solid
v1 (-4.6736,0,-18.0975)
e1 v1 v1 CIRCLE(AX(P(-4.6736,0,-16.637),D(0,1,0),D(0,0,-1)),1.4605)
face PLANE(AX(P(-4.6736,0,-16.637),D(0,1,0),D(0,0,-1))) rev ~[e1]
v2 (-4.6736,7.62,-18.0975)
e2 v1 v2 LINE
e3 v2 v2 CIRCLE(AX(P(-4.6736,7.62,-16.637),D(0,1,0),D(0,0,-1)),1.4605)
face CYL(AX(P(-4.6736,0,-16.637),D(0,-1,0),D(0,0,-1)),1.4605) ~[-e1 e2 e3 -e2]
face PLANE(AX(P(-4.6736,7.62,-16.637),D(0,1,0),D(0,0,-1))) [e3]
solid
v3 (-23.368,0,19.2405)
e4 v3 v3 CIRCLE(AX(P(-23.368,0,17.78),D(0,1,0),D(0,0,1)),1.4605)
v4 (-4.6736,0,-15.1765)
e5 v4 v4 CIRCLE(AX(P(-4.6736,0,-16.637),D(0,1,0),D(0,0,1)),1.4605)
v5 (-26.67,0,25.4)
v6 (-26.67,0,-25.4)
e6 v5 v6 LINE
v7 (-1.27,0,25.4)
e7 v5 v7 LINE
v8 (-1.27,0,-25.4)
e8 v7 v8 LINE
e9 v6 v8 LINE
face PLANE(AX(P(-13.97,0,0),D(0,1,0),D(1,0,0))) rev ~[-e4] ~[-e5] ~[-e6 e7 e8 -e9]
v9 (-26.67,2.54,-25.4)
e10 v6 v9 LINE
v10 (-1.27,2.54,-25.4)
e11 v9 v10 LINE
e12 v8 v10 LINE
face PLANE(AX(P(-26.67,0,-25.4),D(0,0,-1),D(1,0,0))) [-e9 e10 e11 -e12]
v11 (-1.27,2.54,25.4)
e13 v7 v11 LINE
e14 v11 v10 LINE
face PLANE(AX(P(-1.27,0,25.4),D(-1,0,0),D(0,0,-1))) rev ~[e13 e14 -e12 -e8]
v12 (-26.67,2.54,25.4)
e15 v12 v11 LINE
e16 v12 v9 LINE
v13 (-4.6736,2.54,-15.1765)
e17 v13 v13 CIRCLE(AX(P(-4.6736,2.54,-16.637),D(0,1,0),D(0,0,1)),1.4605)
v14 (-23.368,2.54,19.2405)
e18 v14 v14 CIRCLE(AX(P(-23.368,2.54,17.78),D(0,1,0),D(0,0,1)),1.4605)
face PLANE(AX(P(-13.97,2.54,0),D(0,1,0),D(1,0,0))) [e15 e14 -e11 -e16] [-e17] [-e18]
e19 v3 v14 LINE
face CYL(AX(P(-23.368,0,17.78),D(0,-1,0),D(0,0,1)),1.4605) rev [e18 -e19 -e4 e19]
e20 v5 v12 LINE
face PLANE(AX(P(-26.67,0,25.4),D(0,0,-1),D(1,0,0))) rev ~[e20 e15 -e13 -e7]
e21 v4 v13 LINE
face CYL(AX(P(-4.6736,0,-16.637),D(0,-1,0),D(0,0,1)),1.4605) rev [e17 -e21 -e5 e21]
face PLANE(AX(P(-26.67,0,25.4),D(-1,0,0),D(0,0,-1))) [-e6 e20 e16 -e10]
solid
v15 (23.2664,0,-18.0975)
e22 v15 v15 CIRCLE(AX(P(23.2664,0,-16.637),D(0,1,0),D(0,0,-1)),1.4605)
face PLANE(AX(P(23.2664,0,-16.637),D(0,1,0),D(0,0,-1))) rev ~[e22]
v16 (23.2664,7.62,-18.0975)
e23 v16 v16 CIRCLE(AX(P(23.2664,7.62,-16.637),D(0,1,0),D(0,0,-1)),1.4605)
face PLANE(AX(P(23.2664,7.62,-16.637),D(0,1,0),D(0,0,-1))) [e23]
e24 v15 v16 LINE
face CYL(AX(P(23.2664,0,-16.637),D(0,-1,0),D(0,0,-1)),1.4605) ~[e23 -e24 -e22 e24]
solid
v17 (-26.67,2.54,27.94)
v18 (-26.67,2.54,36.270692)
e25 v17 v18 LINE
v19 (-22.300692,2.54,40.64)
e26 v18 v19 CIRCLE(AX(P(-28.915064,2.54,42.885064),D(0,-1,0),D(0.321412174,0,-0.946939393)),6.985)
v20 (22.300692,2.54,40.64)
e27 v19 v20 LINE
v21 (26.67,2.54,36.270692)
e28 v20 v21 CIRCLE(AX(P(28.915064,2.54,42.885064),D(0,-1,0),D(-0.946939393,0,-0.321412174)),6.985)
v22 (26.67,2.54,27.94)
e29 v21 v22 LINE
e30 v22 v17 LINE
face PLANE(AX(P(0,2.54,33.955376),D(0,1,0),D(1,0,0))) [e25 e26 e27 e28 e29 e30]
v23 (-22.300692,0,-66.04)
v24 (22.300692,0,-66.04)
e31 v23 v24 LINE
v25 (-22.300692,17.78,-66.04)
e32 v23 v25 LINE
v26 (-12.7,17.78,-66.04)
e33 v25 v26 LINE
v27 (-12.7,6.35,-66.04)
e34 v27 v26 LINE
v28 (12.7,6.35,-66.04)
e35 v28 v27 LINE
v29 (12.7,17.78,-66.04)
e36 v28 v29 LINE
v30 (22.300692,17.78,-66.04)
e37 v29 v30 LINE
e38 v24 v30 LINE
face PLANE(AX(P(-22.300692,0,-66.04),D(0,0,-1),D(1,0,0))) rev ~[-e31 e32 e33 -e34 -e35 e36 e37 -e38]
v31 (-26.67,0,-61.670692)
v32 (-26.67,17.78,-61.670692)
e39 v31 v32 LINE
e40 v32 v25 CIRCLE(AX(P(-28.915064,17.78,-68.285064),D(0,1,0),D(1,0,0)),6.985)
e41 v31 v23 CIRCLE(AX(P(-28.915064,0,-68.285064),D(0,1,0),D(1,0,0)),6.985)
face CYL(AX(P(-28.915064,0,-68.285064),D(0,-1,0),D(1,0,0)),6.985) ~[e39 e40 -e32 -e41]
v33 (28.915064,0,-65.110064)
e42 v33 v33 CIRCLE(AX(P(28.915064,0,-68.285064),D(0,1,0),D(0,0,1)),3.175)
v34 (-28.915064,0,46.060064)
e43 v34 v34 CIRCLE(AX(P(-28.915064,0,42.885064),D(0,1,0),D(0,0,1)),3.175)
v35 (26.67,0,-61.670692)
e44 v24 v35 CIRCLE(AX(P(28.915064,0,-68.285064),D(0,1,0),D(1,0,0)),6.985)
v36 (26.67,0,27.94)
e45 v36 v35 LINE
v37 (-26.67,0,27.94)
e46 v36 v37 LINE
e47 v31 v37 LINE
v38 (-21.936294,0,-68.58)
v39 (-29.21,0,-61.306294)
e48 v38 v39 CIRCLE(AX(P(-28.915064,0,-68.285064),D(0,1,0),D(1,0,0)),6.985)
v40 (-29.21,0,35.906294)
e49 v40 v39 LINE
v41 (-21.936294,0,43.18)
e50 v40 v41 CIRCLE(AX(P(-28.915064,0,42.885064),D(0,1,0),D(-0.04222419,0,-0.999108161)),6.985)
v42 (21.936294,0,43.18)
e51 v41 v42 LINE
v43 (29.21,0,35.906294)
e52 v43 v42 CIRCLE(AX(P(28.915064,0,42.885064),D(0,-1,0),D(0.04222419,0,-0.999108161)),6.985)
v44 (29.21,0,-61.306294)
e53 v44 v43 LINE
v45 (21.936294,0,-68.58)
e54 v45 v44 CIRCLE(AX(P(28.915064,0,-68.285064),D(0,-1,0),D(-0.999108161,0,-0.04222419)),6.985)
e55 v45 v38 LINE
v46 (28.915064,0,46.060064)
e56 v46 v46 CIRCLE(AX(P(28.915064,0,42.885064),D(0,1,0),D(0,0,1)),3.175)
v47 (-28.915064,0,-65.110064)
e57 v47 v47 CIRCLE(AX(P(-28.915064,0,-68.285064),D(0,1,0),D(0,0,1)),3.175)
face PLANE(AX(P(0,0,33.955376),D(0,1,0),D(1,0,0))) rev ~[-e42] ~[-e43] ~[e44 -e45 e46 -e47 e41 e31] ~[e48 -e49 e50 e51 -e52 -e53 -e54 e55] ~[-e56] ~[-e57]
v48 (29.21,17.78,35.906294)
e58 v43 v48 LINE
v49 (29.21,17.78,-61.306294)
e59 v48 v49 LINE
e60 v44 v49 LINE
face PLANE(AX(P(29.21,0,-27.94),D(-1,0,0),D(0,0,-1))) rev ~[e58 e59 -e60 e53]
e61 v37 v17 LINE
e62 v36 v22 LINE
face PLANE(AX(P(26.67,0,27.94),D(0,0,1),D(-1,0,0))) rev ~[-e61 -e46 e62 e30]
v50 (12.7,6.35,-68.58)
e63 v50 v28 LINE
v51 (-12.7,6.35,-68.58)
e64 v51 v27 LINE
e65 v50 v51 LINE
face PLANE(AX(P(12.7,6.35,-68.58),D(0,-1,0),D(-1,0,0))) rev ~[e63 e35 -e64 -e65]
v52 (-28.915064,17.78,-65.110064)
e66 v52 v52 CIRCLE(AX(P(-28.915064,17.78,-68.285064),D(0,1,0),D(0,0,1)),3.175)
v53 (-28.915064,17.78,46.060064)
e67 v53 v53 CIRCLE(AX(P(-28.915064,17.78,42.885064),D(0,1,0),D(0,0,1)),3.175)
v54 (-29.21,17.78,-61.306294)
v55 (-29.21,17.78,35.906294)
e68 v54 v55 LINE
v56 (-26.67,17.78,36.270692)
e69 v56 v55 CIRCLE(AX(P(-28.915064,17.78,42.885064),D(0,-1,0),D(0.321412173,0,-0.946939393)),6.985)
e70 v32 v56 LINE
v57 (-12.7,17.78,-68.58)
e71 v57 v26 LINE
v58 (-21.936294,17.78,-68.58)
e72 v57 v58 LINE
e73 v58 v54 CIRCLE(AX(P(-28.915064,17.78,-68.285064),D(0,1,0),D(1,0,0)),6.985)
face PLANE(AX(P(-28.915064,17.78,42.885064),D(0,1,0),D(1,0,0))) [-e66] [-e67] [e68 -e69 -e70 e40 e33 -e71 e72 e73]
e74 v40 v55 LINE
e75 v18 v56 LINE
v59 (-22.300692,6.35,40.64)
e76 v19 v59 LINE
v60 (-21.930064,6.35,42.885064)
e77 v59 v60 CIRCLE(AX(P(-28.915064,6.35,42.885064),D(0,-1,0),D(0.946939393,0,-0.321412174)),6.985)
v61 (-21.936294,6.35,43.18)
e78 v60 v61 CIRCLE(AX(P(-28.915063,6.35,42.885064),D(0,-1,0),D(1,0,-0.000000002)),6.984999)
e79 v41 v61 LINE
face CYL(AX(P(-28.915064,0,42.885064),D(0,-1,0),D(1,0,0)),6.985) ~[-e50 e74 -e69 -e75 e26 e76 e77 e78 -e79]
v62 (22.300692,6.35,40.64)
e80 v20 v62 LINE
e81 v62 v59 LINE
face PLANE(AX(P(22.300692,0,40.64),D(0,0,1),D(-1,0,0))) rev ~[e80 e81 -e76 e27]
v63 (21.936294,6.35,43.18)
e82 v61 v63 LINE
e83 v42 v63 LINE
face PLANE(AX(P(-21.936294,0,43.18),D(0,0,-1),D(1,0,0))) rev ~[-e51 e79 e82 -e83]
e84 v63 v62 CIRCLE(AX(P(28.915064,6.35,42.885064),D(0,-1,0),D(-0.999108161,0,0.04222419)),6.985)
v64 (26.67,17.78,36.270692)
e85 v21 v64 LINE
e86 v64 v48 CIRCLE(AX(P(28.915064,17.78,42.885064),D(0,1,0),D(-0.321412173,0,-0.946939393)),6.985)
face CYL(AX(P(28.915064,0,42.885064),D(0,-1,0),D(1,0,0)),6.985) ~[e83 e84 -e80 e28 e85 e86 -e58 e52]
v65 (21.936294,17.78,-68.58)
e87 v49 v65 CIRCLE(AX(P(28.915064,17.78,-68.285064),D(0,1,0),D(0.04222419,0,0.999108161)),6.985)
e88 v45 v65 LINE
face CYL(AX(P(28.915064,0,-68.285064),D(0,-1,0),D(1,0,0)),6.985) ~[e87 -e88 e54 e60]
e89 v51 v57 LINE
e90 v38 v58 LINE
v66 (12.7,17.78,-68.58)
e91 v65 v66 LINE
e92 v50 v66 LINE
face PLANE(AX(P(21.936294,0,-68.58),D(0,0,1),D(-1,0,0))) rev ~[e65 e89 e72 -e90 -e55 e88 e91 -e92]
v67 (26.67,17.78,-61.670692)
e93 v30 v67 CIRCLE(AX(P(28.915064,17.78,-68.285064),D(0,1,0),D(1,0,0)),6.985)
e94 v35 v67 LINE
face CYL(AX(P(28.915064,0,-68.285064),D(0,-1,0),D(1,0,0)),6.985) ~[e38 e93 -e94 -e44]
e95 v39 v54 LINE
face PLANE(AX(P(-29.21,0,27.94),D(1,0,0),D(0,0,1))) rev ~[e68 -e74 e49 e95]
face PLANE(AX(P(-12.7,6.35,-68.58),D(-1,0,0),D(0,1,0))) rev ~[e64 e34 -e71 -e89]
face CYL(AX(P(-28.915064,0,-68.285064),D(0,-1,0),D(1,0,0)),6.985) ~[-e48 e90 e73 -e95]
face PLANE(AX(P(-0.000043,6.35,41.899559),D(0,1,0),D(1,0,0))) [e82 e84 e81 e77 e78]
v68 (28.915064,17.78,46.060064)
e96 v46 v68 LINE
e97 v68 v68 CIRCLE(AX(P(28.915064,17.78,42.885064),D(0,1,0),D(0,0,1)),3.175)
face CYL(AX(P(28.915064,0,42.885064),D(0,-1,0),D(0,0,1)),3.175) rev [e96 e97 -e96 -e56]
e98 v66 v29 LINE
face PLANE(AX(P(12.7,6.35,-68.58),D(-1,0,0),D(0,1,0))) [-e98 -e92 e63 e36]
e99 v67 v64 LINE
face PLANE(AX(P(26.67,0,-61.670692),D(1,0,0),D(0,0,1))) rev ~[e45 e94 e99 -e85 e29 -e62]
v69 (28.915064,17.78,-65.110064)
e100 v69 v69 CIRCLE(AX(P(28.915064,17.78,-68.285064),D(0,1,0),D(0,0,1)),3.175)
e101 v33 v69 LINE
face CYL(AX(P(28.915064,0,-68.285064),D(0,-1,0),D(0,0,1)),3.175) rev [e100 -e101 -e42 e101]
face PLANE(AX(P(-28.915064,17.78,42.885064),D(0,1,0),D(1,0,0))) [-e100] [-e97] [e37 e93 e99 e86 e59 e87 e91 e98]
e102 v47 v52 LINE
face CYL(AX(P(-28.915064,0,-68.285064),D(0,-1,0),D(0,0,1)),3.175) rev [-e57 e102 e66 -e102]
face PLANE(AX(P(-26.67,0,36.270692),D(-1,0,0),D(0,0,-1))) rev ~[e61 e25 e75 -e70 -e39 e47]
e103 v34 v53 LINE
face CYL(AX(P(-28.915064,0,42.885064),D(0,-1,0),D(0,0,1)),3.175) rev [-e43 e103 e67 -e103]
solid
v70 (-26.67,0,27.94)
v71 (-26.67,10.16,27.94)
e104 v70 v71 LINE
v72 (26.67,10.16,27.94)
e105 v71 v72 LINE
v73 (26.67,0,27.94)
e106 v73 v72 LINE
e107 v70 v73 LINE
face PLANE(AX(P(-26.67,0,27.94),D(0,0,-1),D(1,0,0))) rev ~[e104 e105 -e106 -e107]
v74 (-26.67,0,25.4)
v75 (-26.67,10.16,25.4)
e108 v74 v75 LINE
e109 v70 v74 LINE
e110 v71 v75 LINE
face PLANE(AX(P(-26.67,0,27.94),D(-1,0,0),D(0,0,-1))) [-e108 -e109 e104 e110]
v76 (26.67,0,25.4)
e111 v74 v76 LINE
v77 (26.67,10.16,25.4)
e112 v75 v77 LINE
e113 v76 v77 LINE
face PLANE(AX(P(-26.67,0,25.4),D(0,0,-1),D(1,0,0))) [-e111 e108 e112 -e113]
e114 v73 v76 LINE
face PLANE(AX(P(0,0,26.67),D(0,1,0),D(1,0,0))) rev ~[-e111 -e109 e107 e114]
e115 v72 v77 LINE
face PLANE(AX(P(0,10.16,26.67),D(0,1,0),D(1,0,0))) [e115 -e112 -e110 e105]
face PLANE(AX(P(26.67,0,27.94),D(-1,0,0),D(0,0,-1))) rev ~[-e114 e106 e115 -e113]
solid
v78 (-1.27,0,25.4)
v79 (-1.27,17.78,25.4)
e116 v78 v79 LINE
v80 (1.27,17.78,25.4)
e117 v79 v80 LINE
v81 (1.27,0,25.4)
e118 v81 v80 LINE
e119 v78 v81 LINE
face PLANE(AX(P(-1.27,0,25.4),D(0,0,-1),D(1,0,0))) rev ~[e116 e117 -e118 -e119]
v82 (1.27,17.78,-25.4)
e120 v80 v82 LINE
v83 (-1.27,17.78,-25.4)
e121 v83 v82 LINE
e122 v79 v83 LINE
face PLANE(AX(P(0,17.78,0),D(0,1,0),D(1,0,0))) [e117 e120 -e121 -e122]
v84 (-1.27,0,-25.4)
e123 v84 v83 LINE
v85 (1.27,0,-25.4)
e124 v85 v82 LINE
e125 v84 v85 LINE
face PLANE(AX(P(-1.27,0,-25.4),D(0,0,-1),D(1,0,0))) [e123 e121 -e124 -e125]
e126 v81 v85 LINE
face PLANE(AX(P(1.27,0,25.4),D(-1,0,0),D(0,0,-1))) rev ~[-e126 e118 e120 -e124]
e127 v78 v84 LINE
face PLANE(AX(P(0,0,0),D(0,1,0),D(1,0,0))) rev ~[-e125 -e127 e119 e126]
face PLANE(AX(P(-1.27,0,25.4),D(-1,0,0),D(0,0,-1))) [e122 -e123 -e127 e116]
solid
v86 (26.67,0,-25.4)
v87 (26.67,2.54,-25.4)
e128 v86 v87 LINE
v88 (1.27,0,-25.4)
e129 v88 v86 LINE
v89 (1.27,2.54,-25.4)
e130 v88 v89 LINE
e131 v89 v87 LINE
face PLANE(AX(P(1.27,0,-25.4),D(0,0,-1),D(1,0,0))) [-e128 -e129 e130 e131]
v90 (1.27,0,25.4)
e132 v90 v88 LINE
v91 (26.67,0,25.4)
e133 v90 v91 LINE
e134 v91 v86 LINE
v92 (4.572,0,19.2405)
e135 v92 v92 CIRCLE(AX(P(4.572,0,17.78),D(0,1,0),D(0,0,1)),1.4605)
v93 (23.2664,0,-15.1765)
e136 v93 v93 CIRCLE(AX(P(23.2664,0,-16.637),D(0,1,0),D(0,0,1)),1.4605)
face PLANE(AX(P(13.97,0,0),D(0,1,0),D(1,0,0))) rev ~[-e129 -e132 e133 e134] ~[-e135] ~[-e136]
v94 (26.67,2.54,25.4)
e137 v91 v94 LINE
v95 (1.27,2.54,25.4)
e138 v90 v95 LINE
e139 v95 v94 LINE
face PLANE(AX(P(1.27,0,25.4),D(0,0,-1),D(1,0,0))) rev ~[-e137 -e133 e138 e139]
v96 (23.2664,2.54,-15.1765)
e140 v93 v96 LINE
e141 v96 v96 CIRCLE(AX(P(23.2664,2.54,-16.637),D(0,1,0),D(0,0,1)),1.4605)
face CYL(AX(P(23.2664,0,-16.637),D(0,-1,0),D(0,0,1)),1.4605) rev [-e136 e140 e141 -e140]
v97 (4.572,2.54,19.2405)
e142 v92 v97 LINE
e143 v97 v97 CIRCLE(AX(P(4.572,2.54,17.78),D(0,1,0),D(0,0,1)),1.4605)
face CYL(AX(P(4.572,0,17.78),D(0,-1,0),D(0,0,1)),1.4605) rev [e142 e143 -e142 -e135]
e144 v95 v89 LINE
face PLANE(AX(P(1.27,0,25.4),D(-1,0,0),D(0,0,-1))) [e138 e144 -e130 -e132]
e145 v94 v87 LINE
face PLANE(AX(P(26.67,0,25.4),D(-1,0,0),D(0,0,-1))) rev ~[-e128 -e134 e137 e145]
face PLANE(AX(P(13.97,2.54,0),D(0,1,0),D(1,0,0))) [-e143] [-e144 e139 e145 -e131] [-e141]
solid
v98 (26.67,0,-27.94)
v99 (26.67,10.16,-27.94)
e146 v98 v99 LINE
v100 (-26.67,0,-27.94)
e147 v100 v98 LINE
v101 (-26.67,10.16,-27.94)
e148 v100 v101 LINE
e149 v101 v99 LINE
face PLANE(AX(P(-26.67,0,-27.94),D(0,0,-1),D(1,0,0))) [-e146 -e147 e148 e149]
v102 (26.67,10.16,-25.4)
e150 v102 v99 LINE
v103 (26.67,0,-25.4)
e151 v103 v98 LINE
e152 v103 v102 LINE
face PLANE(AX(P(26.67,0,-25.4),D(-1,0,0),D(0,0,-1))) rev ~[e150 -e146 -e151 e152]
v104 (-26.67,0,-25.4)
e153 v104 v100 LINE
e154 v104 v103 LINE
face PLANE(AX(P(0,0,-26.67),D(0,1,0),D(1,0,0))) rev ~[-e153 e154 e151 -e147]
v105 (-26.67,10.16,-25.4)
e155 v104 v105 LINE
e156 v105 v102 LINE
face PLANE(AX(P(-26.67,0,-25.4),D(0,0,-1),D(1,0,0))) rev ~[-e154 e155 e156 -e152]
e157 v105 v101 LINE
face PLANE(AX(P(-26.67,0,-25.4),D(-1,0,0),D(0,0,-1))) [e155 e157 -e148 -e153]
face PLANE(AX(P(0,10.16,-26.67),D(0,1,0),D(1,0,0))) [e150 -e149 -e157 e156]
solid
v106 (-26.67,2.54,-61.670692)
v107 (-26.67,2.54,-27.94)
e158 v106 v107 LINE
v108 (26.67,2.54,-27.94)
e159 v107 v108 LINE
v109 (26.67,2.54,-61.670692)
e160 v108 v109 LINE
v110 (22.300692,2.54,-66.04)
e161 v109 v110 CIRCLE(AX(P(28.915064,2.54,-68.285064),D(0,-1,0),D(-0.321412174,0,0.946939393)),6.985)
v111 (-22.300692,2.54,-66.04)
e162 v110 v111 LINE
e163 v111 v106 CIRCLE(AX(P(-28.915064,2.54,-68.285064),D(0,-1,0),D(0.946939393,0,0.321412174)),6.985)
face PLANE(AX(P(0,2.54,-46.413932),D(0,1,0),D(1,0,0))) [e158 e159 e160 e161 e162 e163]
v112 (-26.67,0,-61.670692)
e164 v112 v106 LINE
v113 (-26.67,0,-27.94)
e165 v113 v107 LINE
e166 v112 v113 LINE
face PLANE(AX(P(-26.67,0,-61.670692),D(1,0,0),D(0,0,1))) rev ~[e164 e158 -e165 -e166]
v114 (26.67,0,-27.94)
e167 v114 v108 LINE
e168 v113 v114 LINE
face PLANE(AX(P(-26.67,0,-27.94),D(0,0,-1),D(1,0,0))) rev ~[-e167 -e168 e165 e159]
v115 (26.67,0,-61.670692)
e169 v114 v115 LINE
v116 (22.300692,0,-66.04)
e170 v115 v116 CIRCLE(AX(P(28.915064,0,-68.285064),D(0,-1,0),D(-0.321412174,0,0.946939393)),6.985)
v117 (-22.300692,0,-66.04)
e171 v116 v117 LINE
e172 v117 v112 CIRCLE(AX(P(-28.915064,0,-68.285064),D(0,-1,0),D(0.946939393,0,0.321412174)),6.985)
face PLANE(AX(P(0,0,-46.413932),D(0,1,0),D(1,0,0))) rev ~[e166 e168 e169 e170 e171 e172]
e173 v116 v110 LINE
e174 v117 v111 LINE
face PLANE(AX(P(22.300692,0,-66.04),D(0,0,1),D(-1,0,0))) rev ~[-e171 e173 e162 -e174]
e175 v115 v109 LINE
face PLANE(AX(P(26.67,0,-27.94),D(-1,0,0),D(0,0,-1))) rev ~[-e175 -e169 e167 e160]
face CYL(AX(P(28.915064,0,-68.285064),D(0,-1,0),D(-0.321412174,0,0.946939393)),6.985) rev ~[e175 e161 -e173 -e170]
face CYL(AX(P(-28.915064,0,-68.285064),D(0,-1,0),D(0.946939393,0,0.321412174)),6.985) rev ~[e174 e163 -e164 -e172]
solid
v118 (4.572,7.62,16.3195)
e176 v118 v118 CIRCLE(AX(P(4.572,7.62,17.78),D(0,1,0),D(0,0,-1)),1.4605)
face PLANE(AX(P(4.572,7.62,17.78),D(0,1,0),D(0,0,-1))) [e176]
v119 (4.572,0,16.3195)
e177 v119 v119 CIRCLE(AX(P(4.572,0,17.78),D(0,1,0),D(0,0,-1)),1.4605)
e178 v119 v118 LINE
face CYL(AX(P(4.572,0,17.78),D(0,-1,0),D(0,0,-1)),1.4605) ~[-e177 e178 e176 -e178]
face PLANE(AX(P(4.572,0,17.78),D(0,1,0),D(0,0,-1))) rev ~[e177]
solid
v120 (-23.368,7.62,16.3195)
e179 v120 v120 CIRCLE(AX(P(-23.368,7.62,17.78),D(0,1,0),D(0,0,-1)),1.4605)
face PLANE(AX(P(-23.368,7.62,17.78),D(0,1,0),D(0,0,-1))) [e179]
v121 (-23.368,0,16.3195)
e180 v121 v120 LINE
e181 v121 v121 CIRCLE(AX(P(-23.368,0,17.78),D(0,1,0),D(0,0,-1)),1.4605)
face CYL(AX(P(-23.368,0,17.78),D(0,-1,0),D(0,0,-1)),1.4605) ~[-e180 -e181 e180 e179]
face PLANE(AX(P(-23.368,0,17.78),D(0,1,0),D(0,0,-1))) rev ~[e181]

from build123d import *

# Parameters (mm, degrees)
SKETCH1_R              = 6.985
SKETCH1_R_2            = 3.175
SKETCH1_W              = 2.54
SKETCH1_H              = 50.8
BOSS_EXTRUDE1_DEPTH    = 17.78
SKETCH25_W             = 25.4
SKETCH25_H             = 50.8
SKETCH25_R             = 1.4605
BOSS_EXTRUDE10_DEPTH   = 2.54
BOSS_EXTRUDE10_2_DEPTH = 2.54
BOSS_EXTRUDE10_3_DEPTH = 2.54
BOSS_EXTRUDE10_4_DEPTH = 2.54
SKETCH16_R             = 1.4605
BOSS_EXTRUDE8_DEPTH    = 7.62
BOSS_EXTRUDE8_2_DEPTH  = 7.62
BOSS_EXTRUDE8_3_DEPTH  = 7.62
BOSS_EXTRUDE8_4_DEPTH  = 7.62
SKETCH17_W             = 53.34
SKETCH17_H             = 2.54
BOSS_EXTRUDE9_DEPTH    = 10.16
BOSS_EXTRUDE9_2_DEPTH  = 10.16
BOSS_EXTRUDE11_DEPTH   = 6.35
SKETCH20_W             = 25.4
SKETCH20_H             = 11.43
CUT_EXTRUDE7_DEPTH     = 2.54


with BuildPart() as part:
    # Sketch1 → Boss-Extrude1 (new body)
    # profile 1 of 12: a face of its own
    with BuildSketch(Plane(origin=(0, 0, 0), x_dir=(1, 0, 0), z_dir=(0, 1, 0))):
        with Locations((-28.91506403, -42.88506403)):
            Circle(SKETCH1_R)
        with Locations(Location((-28.91506403, -42.88506403, 0), (0, 0, 270))):
            Circle(SKETCH1_R_2, mode=Mode.SUBTRACT)
    # profile 2 of 12: a face of its own
    with BuildSketch(Plane(origin=(0, 0, 0), x_dir=(1, 0, 0), z_dir=(0, 1, 0))):
        with BuildLine():
            Line((-26.67, -36.270692367), (-26.67, -27.94))
            Line((-26.67, -27.94), (-29.21, -27.94))
            Line((-29.21, -27.94), (-29.21, -35.906293524))
            ThreePointArc((-29.21, -35.906293524), (-27.92312326, -35.970855579), (-26.67, -36.270692367))
        make_face()
    # profile 3 of 12: a face of its own
    with BuildSketch(Plane(origin=(0, 0, 0), x_dir=(1, 0, 0), z_dir=(0, 1, 0))):
        Polygon((-26.67, -27.94), (-26.67, -25.4), (-26.67, 25.4), (-26.67, 27.94), (-29.21, 27.94), (-29.21, -27.94), align=None)
    # profile 4 of 12: a face of its own
    with BuildSketch(Plane(origin=(0, 0, 0), x_dir=(1, 0, 0), z_dir=(0, 1, 0))):
        Polygon((26.67, -25.4), (26.67, -27.94), (29.21, -27.94), (29.21, 27.94), (26.67, 27.94), (26.67, 25.4), align=None)
    # profile 5 of 12: a face of its own
    with BuildSketch(Plane(origin=(0, 0, 0), x_dir=(1, 0, 0), z_dir=(0, 1, 0))):
        with BuildLine():
            Line((29.21, -27.94), (26.67, -27.94))
            Line((26.67, -27.94), (26.67, -36.270692367))
            ThreePointArc((26.67, -36.270692367), (27.92312326, -35.970855579), (29.21, -35.906293524))
            Line((29.21, -35.906293524), (29.21, -27.94))
        make_face()
    # profile 6 of 12: a face of its own
    with BuildSketch(Plane(origin=(0, 0, 0), x_dir=(1, 0, 0), z_dir=(0, 1, 0))):
        with Locations((28.91506403, -42.88506403)):
            Circle(SKETCH1_R)
        with Locations(Location((28.91506403, -42.88506403, 0), (0, 0, 270))):
            Circle(SKETCH1_R_2, mode=Mode.SUBTRACT)
    # profile 7 of 12: a face of its own
    with BuildSketch(Plane(origin=(0, 0, 0), x_dir=(1, 0, 0), z_dir=(0, 1, 0))):
        with BuildLine():
            Line((-29.21, 27.94), (-26.67, 27.94))
            Line((-26.67, 27.94), (-26.67, 61.670692367))
            ThreePointArc((-26.67, 61.670692367), (-27.92312326, 61.370855579), (-29.21, 61.306293524))
            Line((-29.21, 61.306293524), (-29.21, 27.94))
        make_face()
    # profile 8 of 12: a face of its own
    with BuildSketch(Plane(origin=(0, 0, 0), x_dir=(1, 0, 0), z_dir=(0, 1, 0))):
        with BuildLine():
            Line((26.67, 61.670692367), (26.67, 27.94))
            Line((26.67, 27.94), (29.21, 27.94))
            Line((29.21, 27.94), (29.21, 61.306293524))
            ThreePointArc((29.21, 61.306293524), (27.92312326, 61.370855579), (26.67, 61.670692367))
        make_face()
    # profile 9 of 12: a face of its own
    with BuildSketch(Plane(origin=(0, 0, 0), x_dir=(1, 0, 0), z_dir=(0, 1, 0))):
        with Locations((-28.91506403, 68.28506403)):
            Circle(SKETCH1_R)
        with Locations(Location((-28.91506403, 68.28506403, 0), (0, 0, 270))):
            Circle(SKETCH1_R_2, mode=Mode.SUBTRACT)
    # profile 10 of 12: a face of its own
    with BuildSketch(Plane(origin=(0, 0, 0), x_dir=(1, 0, 0), z_dir=(0, 1, 0))):
        with BuildLine():
            ThreePointArc((-21.93006403, 68.28506403), (-22.023343959, 67.147338463), (-22.300692367, 66.04))
            Line((-22.300692367, 66.04), (22.300692367, 66.04))
            ThreePointArc((22.300692367, 66.04), (22.000855579, 67.29312326), (21.936293524, 68.58))
            Line((21.936293524, 68.58), (-21.936293524, 68.58))
            ThreePointArc((-21.936293524, 68.58), (-21.931621577, 68.432564906), (-21.93006403, 68.28506403))
        make_face()
    # profile 11 of 12: a face of its own
    with BuildSketch(Plane(origin=(0, 0, 0), x_dir=(1, 0, 0), z_dir=(0, 1, 0))):
        with Locations((28.91506403, 68.28506403)):
            Circle(SKETCH1_R)
        with Locations(Location((28.91506403, 68.28506403, 0), (0, 0, 270))):
            Circle(SKETCH1_R_2, mode=Mode.SUBTRACT)
    # profile 12 of 12: a face of its own
    with BuildSketch(Plane(origin=(0, 0, 0), x_dir=(1, 0, 0), z_dir=(0, 1, 0))):
        Rectangle(SKETCH1_W, SKETCH1_H)
    extrude(amount=BOSS_EXTRUDE1_DEPTH)



with BuildPart() as body_2:
    # Sketch25 → Boss-Extrude10 (new body)
    with BuildSketch(Plane(origin=(0, 0, 0), x_dir=(1, 0, 0), z_dir=(0, 1, 0))):
        with Locations((-13.97, 0)):
            Rectangle(SKETCH25_W, SKETCH25_H)
        with Locations(Location((-4.6736, 16.637, 0), (0, 0, 270))):
            Circle(SKETCH25_R, mode=Mode.SUBTRACT)
        with Locations(Location((-23.368, -17.78, 0), (0, 0, 270))):
            Circle(SKETCH25_R, mode=Mode.SUBTRACT)
    extrude(amount=BOSS_EXTRUDE10_DEPTH)


with BuildPart() as body_3:
    # Sketch25 → Boss-Extrude10 2 (new body)
    with BuildSketch(Plane(origin=(0, 0, 0), x_dir=(1, 0, 0), z_dir=(0, 1, 0))):
        with Locations((13.97, 0)):
            Rectangle(SKETCH25_W, SKETCH25_H)
        with Locations(Location((4.572, -17.78, 0), (0, 0, 270))):
            Circle(SKETCH25_R, mode=Mode.SUBTRACT)
        with Locations(Location((23.2664, 16.637, 0), (0, 0, 270))):
            Circle(SKETCH25_R, mode=Mode.SUBTRACT)
    extrude(amount=BOSS_EXTRUDE10_2_DEPTH)


with BuildPart() as body_4:
    # Sketch25 → Boss-Extrude10 3 (new body)
    with BuildSketch(Plane(origin=(0, 0, 0), x_dir=(1, 0, 0), z_dir=(0, 1, 0))):
        with BuildLine():
            Line((-26.67, 27.94), (26.67, 27.94))
            Line((26.67, 27.94), (26.67, 61.670692367))
            ThreePointArc((26.67, 61.670692367), (23.975923164, 63.345923164), (22.300692367, 66.04))
            Line((22.300692367, 66.04), (-22.300692367, 66.04))
            ThreePointArc((-22.300692367, 66.04), (-23.975923164, 63.345923164), (-26.67, 61.670692367))
            Line((-26.67, 61.670692367), (-26.67, 27.94))
        make_face()
    extrude(amount=BOSS_EXTRUDE10_3_DEPTH)


with BuildPart() as body_5:
    # Sketch25 → Boss-Extrude10 4 (new body)
    with BuildSketch(Plane(origin=(0, 0, 0), x_dir=(1, 0, 0), z_dir=(0, 1, 0))):
        with BuildLine():
            Line((26.67, -36.270692367), (26.67, -27.94))
            Line((26.67, -27.94), (-26.67, -27.94))
            Line((-26.67, -27.94), (-26.67, -36.270692367))
            ThreePointArc((-26.67, -36.270692367), (-23.975923164, -37.945923164), (-22.300692367, -40.64))
            Line((-22.300692367, -40.64), (22.300692367, -40.64))
            ThreePointArc((22.300692367, -40.64), (23.975923164, -37.945923164), (26.67, -36.270692367))
        make_face()
    extrude(amount=BOSS_EXTRUDE10_4_DEPTH)


with BuildPart() as body_6:
    # Sketch16 → Boss-Extrude8 (new body)
    with BuildSketch(Plane(origin=(0, 0, 0), x_dir=(1, 0, 0), z_dir=(0, 1, 0))):
        with Locations(Location((-4.6736, 16.637, 0), (0, 0, 90))):
            Circle(SKETCH16_R)
    extrude(amount=BOSS_EXTRUDE8_DEPTH)


with BuildPart() as body_7:
    # Sketch16 → Boss-Extrude8 2 (new body)
    with BuildSketch(Plane(origin=(0, 0, 0), x_dir=(1, 0, 0), z_dir=(0, 1, 0))):
        with Locations(Location((-23.368, -17.78, 0), (0, 0, 90))):
            Circle(SKETCH16_R)
    extrude(amount=BOSS_EXTRUDE8_2_DEPTH)


with BuildPart() as body_8:
    # Sketch16 → Boss-Extrude8 3 (new body)
    with BuildSketch(Plane(origin=(0, 0, 0), x_dir=(1, 0, 0), z_dir=(0, 1, 0))):
        with Locations(Location((4.572, -17.78, 0), (0, 0, 90))):
            Circle(SKETCH16_R)
    extrude(amount=BOSS_EXTRUDE8_3_DEPTH)


with BuildPart() as body_9:
    # Sketch16 → Boss-Extrude8 4 (new body)
    with BuildSketch(Plane(origin=(0, 0, 0), x_dir=(1, 0, 0), z_dir=(0, 1, 0))):
        with Locations(Location((23.2664, 16.637, 0), (0, 0, 90))):
            Circle(SKETCH16_R)
    extrude(amount=BOSS_EXTRUDE8_4_DEPTH)


with BuildPart() as body_10:
    # Sketch17 → Boss-Extrude9 (new body)
    with BuildSketch(Plane(origin=(0, 0, 0), x_dir=(1, 0, 0), z_dir=(0, 1, 0))):
        with Locations((0, -26.67)):
            Rectangle(SKETCH17_W, SKETCH17_H)
    extrude(amount=BOSS_EXTRUDE9_DEPTH)


with BuildPart() as body_11:
    # Sketch17 → Boss-Extrude9 2 (new body)
    with BuildSketch(Plane(origin=(0, 0, 0), x_dir=(1, 0, 0), z_dir=(0, 1, 0))):
        with Locations((0, 26.67)):
            Rectangle(SKETCH17_W, SKETCH17_H)
    extrude(amount=BOSS_EXTRUDE9_2_DEPTH)


with BuildPart() as part_1:
    add(part.part)

    add(body_5.part)  # Boss-Extrude11 merges body 5
    # Sketch27 → Boss-Extrude11 (add)
    with BuildSketch(Plane(origin=(0, 0, 0), x_dir=(1, 0, 0), z_dir=(0, 1, 0))):
        with BuildLine():
            Line((22.300692367, -40.64), (-22.300692367, -40.64))
            ThreePointArc((-22.300692367, -40.64), (-22.023343959, -41.747338463), (-21.93006403, -42.88506403))
            ThreePointArc((-21.93006403, -42.88506403), (-21.931621577, -43.032564906), (-21.936293524, -43.18))
            Line((-21.936293524, -43.18), (21.936293524, -43.18))
            ThreePointArc((21.936293524, -43.18), (22.000855579, -41.89312326), (22.300692367, -40.64))
        make_face()
    extrude(amount=BOSS_EXTRUDE11_DEPTH)

    # Sketch20 → Cut-Extrude7 (cut)
    with BuildSketch(Plane(origin=(0, 0, -68.58), x_dir=(-1, 0, 0), z_dir=(0, 0, -1))):
        with Locations((0, 12.065)):
            Rectangle(SKETCH20_W, SKETCH20_H)
    extrude(amount=-CUT_EXTRUDE7_DEPTH, mode=Mode.SUBTRACT)


solid = Compound([body_2.part, body_3.part, body_4.part, body_6.part, body_7.part, body_8.part, body_9.part, body_10.part, body_11.part, part_1.part])
